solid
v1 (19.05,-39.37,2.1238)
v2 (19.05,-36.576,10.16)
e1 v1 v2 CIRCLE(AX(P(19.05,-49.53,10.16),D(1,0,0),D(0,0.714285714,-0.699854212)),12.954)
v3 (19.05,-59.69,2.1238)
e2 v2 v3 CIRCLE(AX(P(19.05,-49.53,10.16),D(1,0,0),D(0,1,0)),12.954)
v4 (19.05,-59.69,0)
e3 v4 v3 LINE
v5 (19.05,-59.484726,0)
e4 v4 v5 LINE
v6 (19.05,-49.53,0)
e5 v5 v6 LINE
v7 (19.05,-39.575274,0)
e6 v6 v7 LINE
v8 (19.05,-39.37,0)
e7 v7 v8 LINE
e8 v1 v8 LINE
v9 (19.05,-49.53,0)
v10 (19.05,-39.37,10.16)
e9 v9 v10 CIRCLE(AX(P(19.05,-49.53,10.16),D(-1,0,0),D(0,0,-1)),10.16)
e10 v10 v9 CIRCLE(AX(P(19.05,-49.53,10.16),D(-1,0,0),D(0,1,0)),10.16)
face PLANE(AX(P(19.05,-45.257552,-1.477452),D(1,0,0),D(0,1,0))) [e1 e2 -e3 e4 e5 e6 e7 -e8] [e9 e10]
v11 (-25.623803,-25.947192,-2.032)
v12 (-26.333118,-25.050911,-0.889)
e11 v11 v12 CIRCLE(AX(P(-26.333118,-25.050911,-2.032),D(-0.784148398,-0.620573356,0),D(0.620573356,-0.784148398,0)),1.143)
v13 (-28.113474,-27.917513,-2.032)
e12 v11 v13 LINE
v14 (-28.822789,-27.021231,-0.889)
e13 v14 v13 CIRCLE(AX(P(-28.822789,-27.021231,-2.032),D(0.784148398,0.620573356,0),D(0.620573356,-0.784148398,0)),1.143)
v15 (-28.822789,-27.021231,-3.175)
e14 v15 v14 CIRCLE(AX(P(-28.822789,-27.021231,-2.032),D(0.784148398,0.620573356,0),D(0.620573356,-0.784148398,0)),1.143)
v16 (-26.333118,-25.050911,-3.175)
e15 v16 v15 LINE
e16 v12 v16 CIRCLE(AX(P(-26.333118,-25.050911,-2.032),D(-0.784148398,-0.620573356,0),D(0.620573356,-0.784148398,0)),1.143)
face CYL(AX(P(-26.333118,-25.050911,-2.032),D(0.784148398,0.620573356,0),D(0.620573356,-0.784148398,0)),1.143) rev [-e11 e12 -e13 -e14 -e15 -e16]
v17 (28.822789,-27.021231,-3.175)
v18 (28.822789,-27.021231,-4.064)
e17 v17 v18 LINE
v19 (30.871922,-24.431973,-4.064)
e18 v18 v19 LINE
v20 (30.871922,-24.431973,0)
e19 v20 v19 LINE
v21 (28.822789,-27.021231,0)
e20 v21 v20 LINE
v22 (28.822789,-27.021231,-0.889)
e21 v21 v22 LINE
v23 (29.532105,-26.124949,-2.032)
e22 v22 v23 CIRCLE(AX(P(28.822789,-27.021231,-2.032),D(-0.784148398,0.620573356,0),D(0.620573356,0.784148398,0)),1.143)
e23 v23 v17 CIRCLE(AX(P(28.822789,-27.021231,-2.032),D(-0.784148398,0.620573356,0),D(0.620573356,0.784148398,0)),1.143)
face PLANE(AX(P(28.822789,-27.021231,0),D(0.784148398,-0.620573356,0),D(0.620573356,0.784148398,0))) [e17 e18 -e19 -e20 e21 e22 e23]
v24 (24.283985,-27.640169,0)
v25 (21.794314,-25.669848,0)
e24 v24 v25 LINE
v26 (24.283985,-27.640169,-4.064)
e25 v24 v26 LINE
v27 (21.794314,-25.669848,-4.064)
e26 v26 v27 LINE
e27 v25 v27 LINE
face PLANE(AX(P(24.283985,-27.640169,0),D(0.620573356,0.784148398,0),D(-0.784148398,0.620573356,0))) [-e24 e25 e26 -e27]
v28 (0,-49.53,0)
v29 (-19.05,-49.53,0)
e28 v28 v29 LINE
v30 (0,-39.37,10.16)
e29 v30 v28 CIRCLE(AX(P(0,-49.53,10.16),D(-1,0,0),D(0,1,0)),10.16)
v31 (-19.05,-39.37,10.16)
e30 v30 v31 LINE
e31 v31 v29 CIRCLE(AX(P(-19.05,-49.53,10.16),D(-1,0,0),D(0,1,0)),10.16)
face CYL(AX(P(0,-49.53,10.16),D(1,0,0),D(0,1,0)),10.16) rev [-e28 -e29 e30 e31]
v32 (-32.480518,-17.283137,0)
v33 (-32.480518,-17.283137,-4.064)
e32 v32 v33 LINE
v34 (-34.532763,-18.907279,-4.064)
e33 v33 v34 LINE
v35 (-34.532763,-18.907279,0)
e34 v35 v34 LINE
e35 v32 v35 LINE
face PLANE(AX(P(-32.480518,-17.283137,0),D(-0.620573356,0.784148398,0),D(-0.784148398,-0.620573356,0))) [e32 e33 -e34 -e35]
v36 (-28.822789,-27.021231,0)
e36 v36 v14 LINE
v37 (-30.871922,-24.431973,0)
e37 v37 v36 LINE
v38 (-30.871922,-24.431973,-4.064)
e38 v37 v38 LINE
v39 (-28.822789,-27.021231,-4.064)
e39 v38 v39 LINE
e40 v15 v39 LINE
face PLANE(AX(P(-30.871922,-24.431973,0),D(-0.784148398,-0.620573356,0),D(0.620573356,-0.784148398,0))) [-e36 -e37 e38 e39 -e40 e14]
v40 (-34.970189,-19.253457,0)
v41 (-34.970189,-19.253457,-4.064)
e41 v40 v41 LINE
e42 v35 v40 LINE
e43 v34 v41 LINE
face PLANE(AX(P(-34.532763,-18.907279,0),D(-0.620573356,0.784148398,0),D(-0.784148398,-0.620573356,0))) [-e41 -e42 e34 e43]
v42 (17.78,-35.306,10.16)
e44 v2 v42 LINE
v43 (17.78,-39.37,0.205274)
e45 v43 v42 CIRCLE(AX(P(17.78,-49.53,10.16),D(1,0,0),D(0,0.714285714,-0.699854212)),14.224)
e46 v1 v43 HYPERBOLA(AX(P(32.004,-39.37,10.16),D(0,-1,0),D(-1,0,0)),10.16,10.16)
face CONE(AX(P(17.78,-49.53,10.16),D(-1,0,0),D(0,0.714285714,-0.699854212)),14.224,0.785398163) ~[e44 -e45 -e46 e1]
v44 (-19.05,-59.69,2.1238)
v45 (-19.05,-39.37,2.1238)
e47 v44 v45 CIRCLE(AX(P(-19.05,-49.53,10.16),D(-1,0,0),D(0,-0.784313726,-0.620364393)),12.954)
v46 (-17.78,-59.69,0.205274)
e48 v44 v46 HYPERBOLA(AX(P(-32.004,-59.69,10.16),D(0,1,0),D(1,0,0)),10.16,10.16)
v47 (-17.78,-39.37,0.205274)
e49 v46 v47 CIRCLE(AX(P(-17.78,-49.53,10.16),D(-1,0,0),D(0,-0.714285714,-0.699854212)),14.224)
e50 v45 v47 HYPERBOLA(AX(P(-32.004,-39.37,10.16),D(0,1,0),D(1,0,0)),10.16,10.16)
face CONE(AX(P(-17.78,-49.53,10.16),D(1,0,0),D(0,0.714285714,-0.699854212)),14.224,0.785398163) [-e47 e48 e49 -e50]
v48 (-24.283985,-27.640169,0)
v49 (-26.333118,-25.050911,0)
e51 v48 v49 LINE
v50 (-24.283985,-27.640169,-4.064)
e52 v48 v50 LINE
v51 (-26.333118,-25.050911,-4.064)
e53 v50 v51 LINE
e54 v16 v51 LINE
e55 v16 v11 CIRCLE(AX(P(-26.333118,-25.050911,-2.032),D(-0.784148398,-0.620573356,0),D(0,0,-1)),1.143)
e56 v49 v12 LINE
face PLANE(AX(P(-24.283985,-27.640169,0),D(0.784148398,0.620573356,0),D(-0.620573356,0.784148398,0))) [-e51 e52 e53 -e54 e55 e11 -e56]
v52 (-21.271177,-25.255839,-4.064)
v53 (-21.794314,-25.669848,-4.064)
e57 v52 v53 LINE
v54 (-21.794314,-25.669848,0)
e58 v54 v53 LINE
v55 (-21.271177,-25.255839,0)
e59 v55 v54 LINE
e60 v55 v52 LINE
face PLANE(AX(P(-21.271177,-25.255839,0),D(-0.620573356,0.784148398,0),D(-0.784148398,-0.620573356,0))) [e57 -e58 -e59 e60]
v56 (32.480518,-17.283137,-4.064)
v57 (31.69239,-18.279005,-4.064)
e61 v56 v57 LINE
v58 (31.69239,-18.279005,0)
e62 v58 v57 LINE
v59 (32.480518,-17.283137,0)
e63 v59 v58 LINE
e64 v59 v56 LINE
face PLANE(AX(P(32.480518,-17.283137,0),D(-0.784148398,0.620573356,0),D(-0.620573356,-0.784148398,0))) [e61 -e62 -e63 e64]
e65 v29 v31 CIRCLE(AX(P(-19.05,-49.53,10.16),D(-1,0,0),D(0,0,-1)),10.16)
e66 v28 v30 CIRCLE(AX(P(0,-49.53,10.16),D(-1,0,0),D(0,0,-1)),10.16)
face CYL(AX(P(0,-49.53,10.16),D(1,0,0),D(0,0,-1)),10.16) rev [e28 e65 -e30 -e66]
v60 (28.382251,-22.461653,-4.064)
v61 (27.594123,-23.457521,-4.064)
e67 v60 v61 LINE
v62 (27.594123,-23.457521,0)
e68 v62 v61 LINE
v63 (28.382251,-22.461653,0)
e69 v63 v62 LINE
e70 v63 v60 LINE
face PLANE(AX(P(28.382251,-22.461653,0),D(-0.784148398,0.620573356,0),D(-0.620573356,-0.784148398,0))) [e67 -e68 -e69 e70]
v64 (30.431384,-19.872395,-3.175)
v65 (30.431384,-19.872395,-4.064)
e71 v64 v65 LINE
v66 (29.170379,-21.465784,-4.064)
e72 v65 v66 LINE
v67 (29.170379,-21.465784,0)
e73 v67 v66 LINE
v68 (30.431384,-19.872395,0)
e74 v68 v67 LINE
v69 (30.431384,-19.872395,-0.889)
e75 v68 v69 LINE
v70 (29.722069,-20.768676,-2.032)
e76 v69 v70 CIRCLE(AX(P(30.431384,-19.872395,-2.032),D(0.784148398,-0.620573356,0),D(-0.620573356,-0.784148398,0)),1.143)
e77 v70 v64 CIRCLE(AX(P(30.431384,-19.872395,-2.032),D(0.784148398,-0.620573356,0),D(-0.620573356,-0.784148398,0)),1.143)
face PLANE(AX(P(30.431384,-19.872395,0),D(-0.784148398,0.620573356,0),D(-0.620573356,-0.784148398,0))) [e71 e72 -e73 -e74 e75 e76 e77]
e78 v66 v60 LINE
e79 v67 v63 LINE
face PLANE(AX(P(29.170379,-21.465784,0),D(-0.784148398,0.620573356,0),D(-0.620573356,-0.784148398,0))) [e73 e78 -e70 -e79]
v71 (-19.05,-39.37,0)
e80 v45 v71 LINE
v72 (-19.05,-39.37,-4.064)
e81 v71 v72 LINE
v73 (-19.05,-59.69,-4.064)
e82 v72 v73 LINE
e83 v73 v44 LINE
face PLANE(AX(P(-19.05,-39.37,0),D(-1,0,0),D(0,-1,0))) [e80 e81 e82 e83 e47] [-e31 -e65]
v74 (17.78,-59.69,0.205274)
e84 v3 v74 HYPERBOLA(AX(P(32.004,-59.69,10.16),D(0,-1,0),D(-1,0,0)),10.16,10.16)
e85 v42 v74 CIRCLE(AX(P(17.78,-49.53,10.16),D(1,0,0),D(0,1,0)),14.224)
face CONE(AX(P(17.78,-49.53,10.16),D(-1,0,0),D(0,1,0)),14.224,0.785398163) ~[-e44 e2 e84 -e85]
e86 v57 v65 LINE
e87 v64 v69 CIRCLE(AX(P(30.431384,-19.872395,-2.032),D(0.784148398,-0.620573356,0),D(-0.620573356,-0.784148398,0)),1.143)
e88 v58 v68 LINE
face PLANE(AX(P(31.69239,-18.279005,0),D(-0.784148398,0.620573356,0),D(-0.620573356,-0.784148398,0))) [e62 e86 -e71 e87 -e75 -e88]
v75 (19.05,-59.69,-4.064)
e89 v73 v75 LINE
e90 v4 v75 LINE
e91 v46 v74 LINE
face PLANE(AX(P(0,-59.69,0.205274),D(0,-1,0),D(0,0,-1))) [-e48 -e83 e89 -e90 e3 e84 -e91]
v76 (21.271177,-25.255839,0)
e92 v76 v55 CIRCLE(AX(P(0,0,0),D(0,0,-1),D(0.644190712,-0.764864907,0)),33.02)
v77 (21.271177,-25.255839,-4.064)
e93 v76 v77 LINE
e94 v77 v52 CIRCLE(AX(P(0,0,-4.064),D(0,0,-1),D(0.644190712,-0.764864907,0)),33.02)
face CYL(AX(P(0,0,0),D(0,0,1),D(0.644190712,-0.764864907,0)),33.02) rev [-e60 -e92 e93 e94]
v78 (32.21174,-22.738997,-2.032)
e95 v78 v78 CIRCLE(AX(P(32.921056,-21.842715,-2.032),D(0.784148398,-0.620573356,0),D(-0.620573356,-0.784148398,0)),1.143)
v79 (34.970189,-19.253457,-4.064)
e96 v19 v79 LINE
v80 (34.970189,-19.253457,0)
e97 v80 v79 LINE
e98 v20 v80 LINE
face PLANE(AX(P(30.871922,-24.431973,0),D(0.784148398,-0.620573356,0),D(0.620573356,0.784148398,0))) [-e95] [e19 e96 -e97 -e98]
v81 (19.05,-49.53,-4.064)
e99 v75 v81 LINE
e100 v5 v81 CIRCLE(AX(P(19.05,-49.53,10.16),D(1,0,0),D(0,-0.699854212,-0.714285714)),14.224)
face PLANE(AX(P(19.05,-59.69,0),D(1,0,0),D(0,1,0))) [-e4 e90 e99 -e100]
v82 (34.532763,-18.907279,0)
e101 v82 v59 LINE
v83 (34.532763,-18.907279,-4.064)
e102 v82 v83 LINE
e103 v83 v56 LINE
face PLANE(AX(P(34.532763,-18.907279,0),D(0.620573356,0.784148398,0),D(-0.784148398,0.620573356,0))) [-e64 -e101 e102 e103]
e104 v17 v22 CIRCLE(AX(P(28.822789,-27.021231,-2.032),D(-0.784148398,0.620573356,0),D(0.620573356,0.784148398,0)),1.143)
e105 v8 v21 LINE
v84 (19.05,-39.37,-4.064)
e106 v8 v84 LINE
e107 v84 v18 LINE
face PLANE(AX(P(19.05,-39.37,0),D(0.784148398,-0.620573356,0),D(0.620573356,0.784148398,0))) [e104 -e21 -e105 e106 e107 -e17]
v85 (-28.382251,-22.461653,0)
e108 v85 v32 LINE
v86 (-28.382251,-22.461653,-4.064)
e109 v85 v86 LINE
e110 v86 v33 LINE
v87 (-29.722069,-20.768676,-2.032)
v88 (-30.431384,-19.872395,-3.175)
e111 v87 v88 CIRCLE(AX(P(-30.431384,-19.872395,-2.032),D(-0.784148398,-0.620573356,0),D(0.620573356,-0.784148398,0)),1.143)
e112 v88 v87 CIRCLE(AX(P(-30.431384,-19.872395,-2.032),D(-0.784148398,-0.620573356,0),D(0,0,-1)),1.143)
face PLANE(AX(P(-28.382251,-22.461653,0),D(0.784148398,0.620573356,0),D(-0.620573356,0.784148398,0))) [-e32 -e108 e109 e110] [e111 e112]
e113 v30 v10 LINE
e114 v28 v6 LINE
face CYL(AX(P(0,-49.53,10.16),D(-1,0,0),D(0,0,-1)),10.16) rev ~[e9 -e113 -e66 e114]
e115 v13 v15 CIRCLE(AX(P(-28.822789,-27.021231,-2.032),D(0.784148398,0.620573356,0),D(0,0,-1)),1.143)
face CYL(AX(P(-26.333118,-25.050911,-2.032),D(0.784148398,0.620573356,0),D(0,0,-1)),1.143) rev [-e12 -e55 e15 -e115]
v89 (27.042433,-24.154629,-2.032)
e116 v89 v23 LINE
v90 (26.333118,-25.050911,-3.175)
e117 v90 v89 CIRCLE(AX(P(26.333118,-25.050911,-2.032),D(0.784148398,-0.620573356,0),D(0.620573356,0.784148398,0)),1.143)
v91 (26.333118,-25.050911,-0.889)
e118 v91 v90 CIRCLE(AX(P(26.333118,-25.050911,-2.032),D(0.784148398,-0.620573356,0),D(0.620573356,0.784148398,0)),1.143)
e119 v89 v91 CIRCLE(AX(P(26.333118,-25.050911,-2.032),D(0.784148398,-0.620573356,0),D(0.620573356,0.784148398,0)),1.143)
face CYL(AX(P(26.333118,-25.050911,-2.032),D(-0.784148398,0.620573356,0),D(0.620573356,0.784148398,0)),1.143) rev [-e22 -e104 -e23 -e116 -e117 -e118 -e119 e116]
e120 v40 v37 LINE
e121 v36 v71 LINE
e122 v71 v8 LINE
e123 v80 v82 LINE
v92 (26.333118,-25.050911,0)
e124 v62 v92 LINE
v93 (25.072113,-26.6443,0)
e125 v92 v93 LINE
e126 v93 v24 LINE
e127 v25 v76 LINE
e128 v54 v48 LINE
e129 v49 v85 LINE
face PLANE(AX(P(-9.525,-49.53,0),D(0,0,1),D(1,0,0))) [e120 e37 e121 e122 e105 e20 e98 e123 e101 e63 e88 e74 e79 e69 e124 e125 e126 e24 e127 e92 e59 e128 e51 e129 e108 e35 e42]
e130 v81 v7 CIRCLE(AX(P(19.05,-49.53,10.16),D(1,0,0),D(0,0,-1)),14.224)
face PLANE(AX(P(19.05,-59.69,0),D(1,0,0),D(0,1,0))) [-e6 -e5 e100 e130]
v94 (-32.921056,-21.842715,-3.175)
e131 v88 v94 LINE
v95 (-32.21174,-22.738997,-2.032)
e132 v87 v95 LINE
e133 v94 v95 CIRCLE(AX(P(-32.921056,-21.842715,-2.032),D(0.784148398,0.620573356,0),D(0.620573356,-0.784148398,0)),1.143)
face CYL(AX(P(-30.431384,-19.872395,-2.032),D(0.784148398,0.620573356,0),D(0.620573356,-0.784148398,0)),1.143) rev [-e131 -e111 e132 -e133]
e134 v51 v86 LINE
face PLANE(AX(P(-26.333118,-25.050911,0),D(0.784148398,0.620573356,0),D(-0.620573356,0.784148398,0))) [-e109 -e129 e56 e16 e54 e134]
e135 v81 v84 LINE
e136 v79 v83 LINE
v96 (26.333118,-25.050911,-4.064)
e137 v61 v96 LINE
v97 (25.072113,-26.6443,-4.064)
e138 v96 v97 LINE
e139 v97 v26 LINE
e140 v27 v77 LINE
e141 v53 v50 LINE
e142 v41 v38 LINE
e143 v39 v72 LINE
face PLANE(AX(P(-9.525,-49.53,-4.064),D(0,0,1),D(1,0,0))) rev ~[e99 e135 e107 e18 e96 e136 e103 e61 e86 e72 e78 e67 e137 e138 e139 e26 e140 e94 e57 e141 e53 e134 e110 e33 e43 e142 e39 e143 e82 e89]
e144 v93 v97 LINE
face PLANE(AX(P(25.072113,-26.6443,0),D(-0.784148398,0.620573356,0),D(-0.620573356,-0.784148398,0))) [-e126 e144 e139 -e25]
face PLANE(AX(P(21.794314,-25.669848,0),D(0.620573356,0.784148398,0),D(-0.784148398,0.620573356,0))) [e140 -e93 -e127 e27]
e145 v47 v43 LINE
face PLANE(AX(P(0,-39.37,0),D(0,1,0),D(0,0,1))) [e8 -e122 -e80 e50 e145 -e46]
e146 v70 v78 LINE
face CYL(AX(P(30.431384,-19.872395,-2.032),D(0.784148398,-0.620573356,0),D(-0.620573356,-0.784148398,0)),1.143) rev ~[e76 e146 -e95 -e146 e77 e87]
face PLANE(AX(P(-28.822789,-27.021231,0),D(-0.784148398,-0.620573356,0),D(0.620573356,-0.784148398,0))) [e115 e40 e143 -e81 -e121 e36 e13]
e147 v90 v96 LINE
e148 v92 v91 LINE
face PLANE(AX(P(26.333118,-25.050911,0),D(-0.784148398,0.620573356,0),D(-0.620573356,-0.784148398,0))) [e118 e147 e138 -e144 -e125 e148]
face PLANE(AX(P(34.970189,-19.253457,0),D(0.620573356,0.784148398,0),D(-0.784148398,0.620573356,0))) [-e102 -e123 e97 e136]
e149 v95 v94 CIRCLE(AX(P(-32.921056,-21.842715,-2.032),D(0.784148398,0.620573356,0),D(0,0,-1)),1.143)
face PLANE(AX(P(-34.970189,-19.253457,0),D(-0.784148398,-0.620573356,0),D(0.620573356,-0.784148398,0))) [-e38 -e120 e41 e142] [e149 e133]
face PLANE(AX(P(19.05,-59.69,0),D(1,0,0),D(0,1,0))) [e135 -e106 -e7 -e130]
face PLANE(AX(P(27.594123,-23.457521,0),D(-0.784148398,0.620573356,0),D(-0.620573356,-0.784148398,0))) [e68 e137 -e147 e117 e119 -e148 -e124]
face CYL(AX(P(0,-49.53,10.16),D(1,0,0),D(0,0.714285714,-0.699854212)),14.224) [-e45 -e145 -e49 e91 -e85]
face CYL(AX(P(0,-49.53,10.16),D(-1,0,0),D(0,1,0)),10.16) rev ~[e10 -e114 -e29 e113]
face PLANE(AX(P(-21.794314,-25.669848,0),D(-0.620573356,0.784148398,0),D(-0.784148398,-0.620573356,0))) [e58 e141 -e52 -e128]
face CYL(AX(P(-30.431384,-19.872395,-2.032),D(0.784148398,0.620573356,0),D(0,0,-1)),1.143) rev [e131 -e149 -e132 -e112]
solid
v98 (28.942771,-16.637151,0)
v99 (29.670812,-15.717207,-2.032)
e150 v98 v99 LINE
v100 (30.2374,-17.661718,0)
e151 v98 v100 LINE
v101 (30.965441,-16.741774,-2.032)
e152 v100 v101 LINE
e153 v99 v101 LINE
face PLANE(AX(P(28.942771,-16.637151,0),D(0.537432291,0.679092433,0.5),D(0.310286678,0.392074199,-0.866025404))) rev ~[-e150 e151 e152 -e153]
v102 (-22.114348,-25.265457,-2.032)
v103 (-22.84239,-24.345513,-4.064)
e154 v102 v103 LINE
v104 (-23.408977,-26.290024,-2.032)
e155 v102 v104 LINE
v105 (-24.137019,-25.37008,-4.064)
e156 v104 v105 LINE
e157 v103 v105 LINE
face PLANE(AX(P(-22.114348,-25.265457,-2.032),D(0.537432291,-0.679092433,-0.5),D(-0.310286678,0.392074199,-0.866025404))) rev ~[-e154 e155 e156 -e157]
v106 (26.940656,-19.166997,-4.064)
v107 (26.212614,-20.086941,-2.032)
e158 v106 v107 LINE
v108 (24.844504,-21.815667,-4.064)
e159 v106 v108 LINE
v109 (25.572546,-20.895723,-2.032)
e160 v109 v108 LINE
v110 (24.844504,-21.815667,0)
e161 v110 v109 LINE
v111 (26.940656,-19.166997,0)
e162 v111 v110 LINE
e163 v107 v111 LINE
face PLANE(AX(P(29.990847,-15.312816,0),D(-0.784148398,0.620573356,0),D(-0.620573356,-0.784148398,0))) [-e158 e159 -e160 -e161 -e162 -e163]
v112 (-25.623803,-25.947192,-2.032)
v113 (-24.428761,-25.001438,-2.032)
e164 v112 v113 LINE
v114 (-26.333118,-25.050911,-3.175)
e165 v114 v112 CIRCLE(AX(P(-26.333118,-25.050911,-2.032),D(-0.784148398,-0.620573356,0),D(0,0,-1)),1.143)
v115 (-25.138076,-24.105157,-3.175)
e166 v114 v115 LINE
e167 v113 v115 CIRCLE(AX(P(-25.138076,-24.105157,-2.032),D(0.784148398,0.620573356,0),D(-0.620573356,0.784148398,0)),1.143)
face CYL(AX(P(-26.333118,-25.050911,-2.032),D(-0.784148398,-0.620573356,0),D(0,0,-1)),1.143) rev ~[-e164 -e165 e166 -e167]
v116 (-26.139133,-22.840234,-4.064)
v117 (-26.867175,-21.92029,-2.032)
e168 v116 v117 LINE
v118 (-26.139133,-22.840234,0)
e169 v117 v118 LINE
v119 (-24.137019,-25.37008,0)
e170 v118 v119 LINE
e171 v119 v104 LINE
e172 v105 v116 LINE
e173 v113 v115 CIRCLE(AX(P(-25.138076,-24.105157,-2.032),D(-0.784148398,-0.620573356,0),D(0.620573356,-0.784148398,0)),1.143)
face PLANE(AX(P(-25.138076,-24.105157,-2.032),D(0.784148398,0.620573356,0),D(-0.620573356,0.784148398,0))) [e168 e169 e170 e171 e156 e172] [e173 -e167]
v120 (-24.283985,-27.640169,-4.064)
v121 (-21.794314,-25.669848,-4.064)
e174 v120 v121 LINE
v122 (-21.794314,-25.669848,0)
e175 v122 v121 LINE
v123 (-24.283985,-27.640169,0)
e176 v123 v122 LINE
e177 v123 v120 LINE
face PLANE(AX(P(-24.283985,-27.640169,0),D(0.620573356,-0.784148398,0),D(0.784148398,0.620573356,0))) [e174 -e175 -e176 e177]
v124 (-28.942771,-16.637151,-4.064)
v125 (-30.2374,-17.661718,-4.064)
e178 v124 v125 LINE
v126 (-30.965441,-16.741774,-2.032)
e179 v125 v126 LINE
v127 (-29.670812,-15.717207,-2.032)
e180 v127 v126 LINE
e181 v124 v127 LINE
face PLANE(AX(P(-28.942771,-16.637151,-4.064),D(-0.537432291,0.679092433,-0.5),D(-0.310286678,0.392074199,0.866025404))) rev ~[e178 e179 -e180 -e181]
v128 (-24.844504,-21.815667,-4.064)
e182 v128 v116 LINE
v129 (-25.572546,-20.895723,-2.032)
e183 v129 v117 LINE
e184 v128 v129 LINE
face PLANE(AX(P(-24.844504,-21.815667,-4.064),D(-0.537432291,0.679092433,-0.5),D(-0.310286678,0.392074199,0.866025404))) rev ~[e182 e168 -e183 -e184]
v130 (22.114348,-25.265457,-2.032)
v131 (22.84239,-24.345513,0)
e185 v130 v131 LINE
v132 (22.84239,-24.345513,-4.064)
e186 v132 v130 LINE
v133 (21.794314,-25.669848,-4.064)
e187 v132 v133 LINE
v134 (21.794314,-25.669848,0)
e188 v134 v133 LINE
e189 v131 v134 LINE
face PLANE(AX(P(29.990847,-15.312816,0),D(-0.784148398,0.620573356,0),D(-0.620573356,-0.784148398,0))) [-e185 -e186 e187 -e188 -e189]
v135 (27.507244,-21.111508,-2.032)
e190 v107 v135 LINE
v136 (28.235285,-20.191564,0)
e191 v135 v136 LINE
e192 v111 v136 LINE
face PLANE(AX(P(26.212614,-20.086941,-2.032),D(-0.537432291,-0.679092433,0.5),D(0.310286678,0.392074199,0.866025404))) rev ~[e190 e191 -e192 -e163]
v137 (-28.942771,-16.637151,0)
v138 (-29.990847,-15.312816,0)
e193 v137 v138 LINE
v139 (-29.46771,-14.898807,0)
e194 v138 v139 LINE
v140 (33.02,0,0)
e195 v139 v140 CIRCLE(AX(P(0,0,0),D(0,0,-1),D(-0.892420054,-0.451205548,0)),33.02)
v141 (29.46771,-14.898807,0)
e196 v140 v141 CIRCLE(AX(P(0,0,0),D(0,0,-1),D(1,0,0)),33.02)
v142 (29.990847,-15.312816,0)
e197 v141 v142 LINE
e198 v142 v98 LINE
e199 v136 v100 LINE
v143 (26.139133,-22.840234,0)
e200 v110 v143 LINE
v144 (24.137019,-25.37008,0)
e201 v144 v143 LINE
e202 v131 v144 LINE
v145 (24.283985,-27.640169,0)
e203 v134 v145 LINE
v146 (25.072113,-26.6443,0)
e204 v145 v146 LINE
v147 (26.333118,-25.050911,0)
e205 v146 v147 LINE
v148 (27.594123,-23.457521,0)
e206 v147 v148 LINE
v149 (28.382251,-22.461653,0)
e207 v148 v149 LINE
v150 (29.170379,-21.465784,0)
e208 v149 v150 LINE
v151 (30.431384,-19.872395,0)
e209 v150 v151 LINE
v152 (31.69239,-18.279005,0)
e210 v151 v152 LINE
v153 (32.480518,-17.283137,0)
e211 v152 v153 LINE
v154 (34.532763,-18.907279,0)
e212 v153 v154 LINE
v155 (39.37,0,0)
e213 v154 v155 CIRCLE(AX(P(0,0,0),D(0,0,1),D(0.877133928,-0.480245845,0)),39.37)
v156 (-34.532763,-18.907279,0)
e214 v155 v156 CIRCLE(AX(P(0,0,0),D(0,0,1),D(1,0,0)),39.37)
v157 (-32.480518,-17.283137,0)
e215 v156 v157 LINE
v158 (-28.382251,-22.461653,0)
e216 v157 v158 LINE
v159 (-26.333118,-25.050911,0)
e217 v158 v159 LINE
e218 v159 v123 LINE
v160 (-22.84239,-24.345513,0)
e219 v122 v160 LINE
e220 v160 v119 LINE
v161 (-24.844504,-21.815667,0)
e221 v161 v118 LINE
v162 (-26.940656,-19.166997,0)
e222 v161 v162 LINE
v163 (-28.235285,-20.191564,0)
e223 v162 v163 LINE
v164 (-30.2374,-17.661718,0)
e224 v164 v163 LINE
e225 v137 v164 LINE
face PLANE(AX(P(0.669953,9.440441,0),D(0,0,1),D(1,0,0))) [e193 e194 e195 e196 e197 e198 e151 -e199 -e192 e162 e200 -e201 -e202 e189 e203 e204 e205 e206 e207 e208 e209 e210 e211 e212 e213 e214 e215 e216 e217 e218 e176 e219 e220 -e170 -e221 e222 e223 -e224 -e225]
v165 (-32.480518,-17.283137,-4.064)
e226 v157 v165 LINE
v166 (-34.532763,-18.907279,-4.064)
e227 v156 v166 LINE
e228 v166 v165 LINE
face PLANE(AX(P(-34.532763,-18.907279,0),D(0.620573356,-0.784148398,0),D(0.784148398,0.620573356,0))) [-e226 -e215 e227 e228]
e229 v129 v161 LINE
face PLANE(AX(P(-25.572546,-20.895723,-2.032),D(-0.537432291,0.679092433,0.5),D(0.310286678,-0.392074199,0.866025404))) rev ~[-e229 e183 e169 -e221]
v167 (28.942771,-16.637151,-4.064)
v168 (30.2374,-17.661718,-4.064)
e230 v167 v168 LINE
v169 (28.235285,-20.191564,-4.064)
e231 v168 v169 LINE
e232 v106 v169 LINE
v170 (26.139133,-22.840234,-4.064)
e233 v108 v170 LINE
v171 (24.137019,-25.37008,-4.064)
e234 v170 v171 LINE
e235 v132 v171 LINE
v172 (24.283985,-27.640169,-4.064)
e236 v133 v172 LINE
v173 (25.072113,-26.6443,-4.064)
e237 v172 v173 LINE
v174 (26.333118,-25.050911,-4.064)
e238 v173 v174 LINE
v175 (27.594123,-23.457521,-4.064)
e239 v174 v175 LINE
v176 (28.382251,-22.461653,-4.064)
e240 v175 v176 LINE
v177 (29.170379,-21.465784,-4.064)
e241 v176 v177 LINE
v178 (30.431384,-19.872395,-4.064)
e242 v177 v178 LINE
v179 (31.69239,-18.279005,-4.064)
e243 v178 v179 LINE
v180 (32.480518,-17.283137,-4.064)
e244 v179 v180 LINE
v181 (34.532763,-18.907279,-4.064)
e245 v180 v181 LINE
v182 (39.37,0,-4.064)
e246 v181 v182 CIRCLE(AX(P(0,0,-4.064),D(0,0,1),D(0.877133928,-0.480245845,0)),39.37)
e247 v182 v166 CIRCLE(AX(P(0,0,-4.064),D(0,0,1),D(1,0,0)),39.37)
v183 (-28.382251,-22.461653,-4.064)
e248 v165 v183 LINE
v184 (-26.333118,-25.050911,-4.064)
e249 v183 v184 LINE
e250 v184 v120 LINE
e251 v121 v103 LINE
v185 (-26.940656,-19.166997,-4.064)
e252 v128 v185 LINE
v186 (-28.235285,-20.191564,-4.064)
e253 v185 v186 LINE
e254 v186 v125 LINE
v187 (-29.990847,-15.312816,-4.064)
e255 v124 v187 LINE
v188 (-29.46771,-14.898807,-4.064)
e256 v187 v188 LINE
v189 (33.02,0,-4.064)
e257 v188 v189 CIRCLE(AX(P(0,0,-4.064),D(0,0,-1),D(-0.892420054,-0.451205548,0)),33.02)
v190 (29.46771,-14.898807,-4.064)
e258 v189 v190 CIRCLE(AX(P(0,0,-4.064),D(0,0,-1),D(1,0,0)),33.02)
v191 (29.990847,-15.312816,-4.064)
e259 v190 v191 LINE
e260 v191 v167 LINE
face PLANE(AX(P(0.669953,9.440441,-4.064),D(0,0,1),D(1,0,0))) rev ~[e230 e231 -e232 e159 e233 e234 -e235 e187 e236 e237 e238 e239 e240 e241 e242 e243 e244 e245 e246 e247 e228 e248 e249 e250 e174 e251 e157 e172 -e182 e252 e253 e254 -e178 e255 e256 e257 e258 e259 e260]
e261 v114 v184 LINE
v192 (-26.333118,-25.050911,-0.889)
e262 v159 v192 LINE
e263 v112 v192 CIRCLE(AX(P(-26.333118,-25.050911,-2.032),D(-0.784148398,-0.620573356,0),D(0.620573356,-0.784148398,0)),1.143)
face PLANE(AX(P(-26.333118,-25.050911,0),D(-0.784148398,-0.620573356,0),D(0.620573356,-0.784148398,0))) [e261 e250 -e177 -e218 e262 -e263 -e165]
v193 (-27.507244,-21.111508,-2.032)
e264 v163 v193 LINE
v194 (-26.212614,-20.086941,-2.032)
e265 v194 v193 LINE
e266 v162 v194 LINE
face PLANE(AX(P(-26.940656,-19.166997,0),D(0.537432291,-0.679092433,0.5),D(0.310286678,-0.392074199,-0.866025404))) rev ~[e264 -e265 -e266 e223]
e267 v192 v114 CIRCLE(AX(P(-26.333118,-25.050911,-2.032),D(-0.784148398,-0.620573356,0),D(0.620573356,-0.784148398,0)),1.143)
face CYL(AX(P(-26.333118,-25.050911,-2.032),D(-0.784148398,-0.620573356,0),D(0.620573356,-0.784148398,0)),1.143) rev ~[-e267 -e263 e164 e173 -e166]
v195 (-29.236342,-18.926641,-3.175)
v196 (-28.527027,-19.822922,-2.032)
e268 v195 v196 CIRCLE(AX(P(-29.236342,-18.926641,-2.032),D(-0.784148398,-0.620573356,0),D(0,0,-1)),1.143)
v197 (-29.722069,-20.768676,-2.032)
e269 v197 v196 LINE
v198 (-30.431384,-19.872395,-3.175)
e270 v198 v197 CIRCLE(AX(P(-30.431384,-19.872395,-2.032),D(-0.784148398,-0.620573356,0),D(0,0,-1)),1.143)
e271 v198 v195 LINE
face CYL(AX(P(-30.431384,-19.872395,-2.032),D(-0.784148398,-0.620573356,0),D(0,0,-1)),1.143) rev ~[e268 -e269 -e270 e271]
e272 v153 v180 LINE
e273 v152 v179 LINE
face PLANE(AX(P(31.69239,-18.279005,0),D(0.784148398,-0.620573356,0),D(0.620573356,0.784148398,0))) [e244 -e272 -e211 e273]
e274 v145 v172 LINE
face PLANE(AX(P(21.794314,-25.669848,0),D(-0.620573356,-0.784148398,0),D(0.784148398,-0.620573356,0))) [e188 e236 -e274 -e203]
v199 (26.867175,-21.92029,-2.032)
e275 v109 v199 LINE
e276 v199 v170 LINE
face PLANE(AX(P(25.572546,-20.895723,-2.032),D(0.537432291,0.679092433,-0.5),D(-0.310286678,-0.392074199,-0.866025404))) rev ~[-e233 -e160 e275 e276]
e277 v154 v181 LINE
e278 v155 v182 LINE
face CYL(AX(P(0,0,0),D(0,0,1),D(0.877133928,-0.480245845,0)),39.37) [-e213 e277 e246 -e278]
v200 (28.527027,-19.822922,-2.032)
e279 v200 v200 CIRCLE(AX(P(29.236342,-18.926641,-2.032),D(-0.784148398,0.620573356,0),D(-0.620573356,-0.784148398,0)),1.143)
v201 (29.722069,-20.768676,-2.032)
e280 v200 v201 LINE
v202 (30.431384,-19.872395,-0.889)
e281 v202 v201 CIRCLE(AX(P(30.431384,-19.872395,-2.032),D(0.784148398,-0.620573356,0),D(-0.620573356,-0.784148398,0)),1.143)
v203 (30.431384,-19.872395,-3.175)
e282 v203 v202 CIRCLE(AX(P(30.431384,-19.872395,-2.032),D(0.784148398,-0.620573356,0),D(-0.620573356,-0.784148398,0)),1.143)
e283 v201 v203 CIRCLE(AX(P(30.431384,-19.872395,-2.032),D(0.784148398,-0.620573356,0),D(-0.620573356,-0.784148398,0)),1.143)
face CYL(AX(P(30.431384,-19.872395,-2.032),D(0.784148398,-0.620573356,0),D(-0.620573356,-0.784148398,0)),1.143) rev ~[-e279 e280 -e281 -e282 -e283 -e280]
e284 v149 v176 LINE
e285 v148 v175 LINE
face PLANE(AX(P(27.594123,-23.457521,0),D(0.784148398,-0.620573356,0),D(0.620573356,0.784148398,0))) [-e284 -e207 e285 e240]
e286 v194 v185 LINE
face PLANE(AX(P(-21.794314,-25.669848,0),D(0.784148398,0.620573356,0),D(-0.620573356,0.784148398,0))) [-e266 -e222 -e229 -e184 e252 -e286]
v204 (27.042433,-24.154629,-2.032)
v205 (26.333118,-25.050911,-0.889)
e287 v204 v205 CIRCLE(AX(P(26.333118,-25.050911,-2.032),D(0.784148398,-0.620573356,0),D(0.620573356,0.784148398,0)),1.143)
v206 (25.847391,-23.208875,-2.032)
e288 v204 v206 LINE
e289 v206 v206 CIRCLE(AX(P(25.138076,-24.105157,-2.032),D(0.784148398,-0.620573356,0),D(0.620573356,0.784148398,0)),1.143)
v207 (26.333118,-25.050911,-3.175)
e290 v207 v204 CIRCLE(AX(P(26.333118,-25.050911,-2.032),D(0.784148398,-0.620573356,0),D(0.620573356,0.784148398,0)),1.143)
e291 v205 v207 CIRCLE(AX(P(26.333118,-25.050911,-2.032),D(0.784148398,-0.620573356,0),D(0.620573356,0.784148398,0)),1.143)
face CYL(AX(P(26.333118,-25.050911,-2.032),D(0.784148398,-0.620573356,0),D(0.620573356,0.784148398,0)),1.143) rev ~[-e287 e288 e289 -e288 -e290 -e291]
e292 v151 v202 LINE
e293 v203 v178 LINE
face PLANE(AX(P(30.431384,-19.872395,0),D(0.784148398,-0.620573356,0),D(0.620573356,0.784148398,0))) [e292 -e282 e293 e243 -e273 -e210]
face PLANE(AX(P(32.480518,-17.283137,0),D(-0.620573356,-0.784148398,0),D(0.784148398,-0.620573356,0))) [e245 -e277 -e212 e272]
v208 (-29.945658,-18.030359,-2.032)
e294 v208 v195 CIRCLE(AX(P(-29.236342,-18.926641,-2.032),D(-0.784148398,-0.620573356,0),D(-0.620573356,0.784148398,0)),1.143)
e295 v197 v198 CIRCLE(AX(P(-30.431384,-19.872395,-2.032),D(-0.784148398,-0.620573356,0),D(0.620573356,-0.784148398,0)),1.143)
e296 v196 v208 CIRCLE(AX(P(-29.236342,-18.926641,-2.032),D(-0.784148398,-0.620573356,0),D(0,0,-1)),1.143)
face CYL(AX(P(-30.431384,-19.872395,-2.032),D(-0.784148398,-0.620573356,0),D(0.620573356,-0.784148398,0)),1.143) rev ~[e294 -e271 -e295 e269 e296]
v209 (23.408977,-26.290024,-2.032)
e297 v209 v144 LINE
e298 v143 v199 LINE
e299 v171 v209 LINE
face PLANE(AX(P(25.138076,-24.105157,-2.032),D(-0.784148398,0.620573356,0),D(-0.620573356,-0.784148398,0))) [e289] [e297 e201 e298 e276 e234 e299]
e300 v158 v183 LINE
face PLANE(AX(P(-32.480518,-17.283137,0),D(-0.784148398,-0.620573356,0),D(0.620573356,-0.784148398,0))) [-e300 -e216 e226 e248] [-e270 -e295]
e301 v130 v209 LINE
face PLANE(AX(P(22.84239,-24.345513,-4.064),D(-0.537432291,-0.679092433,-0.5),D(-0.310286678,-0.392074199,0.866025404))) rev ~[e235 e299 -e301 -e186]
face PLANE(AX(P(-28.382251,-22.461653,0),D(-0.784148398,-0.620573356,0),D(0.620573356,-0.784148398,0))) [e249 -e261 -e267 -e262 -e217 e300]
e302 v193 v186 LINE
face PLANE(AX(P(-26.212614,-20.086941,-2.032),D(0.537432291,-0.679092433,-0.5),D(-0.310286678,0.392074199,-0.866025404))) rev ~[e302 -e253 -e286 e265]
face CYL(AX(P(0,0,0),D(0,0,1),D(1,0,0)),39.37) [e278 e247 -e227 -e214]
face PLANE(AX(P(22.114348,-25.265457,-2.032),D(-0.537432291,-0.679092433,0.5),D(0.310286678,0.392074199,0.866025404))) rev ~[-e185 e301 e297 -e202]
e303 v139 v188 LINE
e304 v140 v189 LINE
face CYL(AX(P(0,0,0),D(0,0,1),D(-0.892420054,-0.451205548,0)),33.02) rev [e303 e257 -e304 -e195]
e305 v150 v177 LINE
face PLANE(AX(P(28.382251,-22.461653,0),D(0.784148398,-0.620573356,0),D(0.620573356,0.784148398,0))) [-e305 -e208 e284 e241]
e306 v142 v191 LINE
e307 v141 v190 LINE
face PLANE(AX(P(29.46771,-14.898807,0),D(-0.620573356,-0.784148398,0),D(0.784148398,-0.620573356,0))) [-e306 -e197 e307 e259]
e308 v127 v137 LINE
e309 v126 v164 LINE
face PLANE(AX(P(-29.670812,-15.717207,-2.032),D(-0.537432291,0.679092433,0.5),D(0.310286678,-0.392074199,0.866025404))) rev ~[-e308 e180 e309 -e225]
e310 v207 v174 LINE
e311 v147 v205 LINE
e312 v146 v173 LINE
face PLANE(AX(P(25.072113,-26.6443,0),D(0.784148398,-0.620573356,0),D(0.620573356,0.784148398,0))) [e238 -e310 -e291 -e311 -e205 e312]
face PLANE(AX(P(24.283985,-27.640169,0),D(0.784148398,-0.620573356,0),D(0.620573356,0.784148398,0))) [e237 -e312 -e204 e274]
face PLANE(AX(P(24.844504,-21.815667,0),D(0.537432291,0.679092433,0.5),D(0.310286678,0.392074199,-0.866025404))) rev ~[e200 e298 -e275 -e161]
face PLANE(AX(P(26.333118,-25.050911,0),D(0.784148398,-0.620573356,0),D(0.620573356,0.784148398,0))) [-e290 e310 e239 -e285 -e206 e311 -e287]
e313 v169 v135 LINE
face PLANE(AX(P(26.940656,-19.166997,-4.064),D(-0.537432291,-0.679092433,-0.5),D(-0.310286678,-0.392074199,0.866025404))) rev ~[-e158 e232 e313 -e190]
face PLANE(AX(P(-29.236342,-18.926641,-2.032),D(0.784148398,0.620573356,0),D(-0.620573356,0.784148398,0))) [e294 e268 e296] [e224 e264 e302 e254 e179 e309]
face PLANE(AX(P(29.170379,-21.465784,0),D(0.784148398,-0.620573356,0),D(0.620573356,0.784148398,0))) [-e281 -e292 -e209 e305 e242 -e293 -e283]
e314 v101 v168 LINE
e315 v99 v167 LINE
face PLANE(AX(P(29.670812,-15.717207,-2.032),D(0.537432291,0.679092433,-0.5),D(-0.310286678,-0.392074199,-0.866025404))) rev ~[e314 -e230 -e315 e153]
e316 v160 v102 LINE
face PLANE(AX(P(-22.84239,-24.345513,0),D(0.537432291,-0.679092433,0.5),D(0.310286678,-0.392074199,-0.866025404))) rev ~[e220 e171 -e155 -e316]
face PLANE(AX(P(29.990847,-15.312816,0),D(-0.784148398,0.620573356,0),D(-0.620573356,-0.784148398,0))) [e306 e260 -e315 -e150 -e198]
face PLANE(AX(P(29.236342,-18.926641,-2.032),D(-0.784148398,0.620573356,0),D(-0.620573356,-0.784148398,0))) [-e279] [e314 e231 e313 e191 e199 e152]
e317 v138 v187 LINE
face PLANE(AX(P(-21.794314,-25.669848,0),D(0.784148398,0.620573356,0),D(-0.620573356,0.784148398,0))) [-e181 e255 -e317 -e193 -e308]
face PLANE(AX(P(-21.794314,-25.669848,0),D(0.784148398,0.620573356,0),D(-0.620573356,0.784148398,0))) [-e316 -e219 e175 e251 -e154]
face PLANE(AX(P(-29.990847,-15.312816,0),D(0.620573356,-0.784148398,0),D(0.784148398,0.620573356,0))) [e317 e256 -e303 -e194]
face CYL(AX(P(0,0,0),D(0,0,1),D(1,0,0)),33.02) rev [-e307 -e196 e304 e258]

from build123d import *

# Parameters (mm, degrees)
F1_DEPTH  = 4.064
F2_DEPTH  = 4.064
F4_DEPTH  = 12.7
F5_R      = 1.143
F6_DEPTH  = 12.7
F7_R      = 1.143
F8_DEPTH  = 1.651
F9_R      = 1.143
F10_DEPTH = 1.651
F12_DEPTH = 19.05
F13_SIZE  = 1.27


with BuildPart() as f1:
    # F0 (on Top) → F1 (new body)
    with BuildSketch(Plane.XY):
        with BuildLine():
            ThreePointArc((-29.4677101906, -14.8988072046), (-7.6582181186, 32.1196527884), (33.02, 0))
            ThreePointArc((33.02, 0), (32.1196527884, -7.6582181186), (29.4677101906, -14.8988072046))
            Line((29.4677101906, -14.8988072046), (29.990846543, -15.3128161889))
            Line((29.990846543, -15.3128161889), (25.8925801012, -20.4913322091))
            Line((25.8925801012, -20.4913322091), (28.3822512648, -22.4616526138))
            Line((28.3822512648, -22.4616526138), (29.1703794266, -21.4657841484))
            Line((29.1703794266, -21.4657841484), (30.4313844857, -19.8723946037))
            Line((30.4313844857, -19.8723946037), (31.6923895447, -18.279005059))
            Line((31.6923895447, -18.279005059), (32.4805177066, -17.2831365936))
            Line((32.4805177066, -17.2831365936), (34.5327627618, -18.9072789168))
            ThreePointArc((34.5327627618, -18.9072789168), (38.1415244185, -9.7581255902), (39.37, 0))
            ThreePointArc((39.37, 0), (-9.7581255902, 38.1415244185), (-34.5327627618, -18.9072789168))
            Line((-34.5327627618, -18.9072789168), (-32.4805177066, -17.2831365936))
            Line((-32.4805177066, -17.2831365936), (-30.4313844857, -19.8723946037))
            Line((-30.4313844857, -19.8723946037), (-28.3822512648, -22.4616526138))
            Line((-28.3822512648, -22.4616526138), (-25.8925801012, -20.4913322091))
            Line((-25.8925801012, -20.4913322091), (-29.990846543, -15.3128161889))
            Line((-29.990846543, -15.3128161889), (-29.4677101906, -14.8988072046))
        make_face()
        Polygon((-21.7943136594, -25.6698482293), (-25.8925801012, -20.4913322091), (-28.3822512648, -22.4616526138), (-26.3331180438, -25.0509106239), (-24.2839848229, -27.6401686341), align=None)
        Polygon((28.3822512648, -22.4616526138), (25.8925801012, -20.4913322091), (21.7943136594, -25.6698482293), (24.2839848229, -27.6401686341), (25.0721129848, -26.6443001686), (26.3331180438, -25.0509106239), (27.5941231029, -23.4575210793), align=None)
    extrude(amount=-F1_DEPTH)


with BuildPart() as f2:
    # F0 (on Top) → F2 (new body)
    with BuildSketch(Plane.XY):
        Polygon((0, -59.69), (0, -39.37), (-10.9520430108, -39.37), (-15.0010215054, -39.37), (-19.05, -39.37), (-19.05, -59.69), align=None)
        Polygon((10.9520430108, -39.37), (0, -39.37), (0, -59.69), (19.05, -59.69), (19.05, -39.37), (15.0010215054, -39.37), align=None)
        with BuildLine():
            ThreePointArc((-18.7699951594, -34.6075740513), (-24.0499346053, -31.1704595006), (-28.714015795, -26.935147984))
            Line((-28.714015795, -26.935147984), (-28.8227892074, -27.0212310287))
            Line((-28.8227892074, -27.0212310287), (-19.05, -39.37))
            Line((-19.05, -39.37), (-15.0010215054, -39.37))
            Line((-15.0010215054, -39.37), (-18.7699951594, -34.6075740513))
        make_face()
        with BuildLine():
            Line((-10.9520430108, -39.37), (-12.5874453828, -37.3035268941))
            ThreePointArc((-12.5874453828, -37.3035268941), (-15.7365596549, -36.0881918393), (-18.7699951594, -34.6075740513))
            Line((-18.7699951594, -34.6075740513), (-15.0010215054, -39.37))
            Line((-15.0010215054, -39.37), (-10.9520430108, -39.37))
        make_face()
        with BuildLine():
            ThreePointArc((0, -39.37), (-6.3779717066, -38.8499469357), (-12.5874453828, -37.3035268941))
            Line((-12.5874453828, -37.3035268941), (-10.9520430108, -39.37))
            Line((-10.9520430108, -39.37), (0, -39.37))
        make_face()
        with BuildLine():
            ThreePointArc((21.271177307, -25.2558392451), (0, -33.02), (-21.271177307, -25.2558392451))
            Line((-21.271177307, -25.2558392451), (-21.7943136594, -25.6698482293))
            Line((-21.7943136594, -25.6698482293), (-12.5874453828, -37.3035268941))
            ThreePointArc((-12.5874453828, -37.3035268941), (-6.3779717066, -38.8499469357), (0, -39.37))
            ThreePointArc((0, -39.37), (6.3779717066, -38.8499469357), (12.5874453828, -37.3035268941))
            Line((12.5874453828, -37.3035268941), (21.7943136594, -25.6698482293))
            Line((21.7943136594, -25.6698482293), (21.271177307, -25.2558392451))
        make_face()
        with BuildLine():
            Line((24.2839848229, -27.6401686341), (21.7943136594, -25.6698482293))
            Line((21.7943136594, -25.6698482293), (12.5874453828, -37.3035268941))
            ThreePointArc((12.5874453828, -37.3035268941), (15.7365596549, -36.0881918393), (18.7699951594, -34.6075740513))
            Line((18.7699951594, -34.6075740513), (24.2839848229, -27.6401686341))
        make_face()
        with BuildLine():
            Line((10.9520430108, -39.37), (12.5874453828, -37.3035268941))
            ThreePointArc((12.5874453828, -37.3035268941), (6.3779717066, -38.8499469357), (0, -39.37))
            Line((0, -39.37), (10.9520430108, -39.37))
        make_face()
        with BuildLine():
            ThreePointArc((18.7699951594, -34.6075740513), (15.7365596549, -36.0881918393), (12.5874453828, -37.3035268941))
            Line((12.5874453828, -37.3035268941), (10.9520430108, -39.37))
            Line((10.9520430108, -39.37), (15.0010215054, -39.37))
            Line((15.0010215054, -39.37), (18.7699951594, -34.6075740513))
        make_face()
        with BuildLine():
            Line((28.8227892074, -27.0212310287), (28.714015795, -26.935147984))
            ThreePointArc((28.714015795, -26.935147984), (24.0499346053, -31.1704595006), (18.7699951594, -34.6075740513))
            Line((18.7699951594, -34.6075740513), (15.0010215054, -39.37))
            Line((15.0010215054, -39.37), (19.05, -39.37))
            Line((19.05, -39.37), (28.8227892074, -27.0212310287))
        make_face()
        with BuildLine():
            Line((25.0721129848, -26.6443001686), (24.2839848229, -27.6401686341))
            Line((24.2839848229, -27.6401686341), (18.7699951594, -34.6075740513))
            ThreePointArc((18.7699951594, -34.6075740513), (24.0499346053, -31.1704595006), (28.714015795, -26.935147984))
            Line((28.714015795, -26.935147984), (26.3331180438, -25.0509106239))
            Line((26.3331180438, -25.0509106239), (25.0721129848, -26.6443001686))
        make_face()
        with BuildLine():
            Line((28.8227892074, -27.0212310287), (30.8719224283, -24.4319730185))
            ThreePointArc((30.8719224283, -24.4319730185), (29.8192468, -25.7062136512), (28.714015795, -26.935147984))
            Line((28.714015795, -26.935147984), (28.8227892074, -27.0212310287))
        make_face()
        with BuildLine():
            Line((30.8719224283, -24.4319730185), (28.3822512648, -22.4616526138))
            Line((28.3822512648, -22.4616526138), (27.5941231029, -23.4575210793))
            Line((27.5941231029, -23.4575210793), (26.3331180438, -25.0509106239))
            Line((26.3331180438, -25.0509106239), (28.714015795, -26.935147984))
            ThreePointArc((28.714015795, -26.935147984), (29.8192468, -25.7062136512), (30.8719224283, -24.4319730185))
        make_face()
        with BuildLine():
            Line((29.1703794266, -21.4657841484), (28.3822512648, -22.4616526138))
            Line((28.3822512648, -22.4616526138), (30.8719224283, -24.4319730185))
            ThreePointArc((30.8719224283, -24.4319730185), (31.8701873763, -23.1146718904), (32.8122822369, -21.7566319638))
            Line((32.8122822369, -21.7566319638), (30.4313844857, -19.8723946037))
            Line((30.4313844857, -19.8723946037), (29.1703794266, -21.4657841484))
        make_face()
        with BuildLine():
            Line((30.4313844857, -19.8723946037), (32.8122822369, -21.7566319638))
            ThreePointArc((32.8122822369, -21.7566319638), (33.702647888, -20.3501455851), (34.5327627618, -18.9072789168))
            Line((34.5327627618, -18.9072789168), (32.4805177066, -17.2831365936))
            Line((32.4805177066, -17.2831365936), (31.6923895447, -18.279005059))
            Line((31.6923895447, -18.279005059), (30.4313844857, -19.8723946037))
        make_face()
        with BuildLine():
            Line((-12.5874453828, -37.3035268941), (-21.7943136594, -25.6698482293))
            Line((-21.7943136594, -25.6698482293), (-24.2839848229, -27.6401686341))
            Line((-24.2839848229, -27.6401686341), (-18.7699951594, -34.6075740513))
            ThreePointArc((-18.7699951594, -34.6075740513), (-15.7365596549, -36.0881918393), (-12.5874453828, -37.3035268941))
        make_face()
        with BuildLine():
            ThreePointArc((-28.714015795, -26.935147984), (-29.8192468, -25.7062136512), (-30.8719224283, -24.4319730185))
            Line((-30.8719224283, -24.4319730185), (-28.8227892074, -27.0212310287))
            Line((-28.8227892074, -27.0212310287), (-28.714015795, -26.935147984))
        make_face()
        with BuildLine():
            Line((-24.2839848229, -27.6401686341), (-26.3331180438, -25.0509106239))
            Line((-26.3331180438, -25.0509106239), (-28.714015795, -26.935147984))
            ThreePointArc((-28.714015795, -26.935147984), (-24.0499346053, -31.1704595006), (-18.7699951594, -34.6075740513))
            Line((-18.7699951594, -34.6075740513), (-24.2839848229, -27.6401686341))
        make_face()
        with BuildLine():
            Line((-26.3331180438, -25.0509106239), (-28.3822512648, -22.4616526138))
            Line((-28.3822512648, -22.4616526138), (-30.8719224283, -24.4319730185))
            ThreePointArc((-30.8719224283, -24.4319730185), (-29.8192468, -25.7062136512), (-28.714015795, -26.935147984))
            Line((-28.714015795, -26.935147984), (-26.3331180438, -25.0509106239))
        make_face()
        with BuildLine():
            Line((-30.8719224283, -24.4319730185), (-28.3822512648, -22.4616526138))
            Line((-28.3822512648, -22.4616526138), (-30.4313844857, -19.8723946037))
            Line((-30.4313844857, -19.8723946037), (-32.8122822369, -21.7566319638))
            ThreePointArc((-32.8122822369, -21.7566319638), (-31.8701873763, -23.1146718904), (-30.8719224283, -24.4319730185))
        make_face()
        with BuildLine():
            Line((-32.8122822369, -21.7566319638), (-30.4313844857, -19.8723946037))
            Line((-30.4313844857, -19.8723946037), (-32.4805177066, -17.2831365936))
            Line((-32.4805177066, -17.2831365936), (-34.5327627618, -18.9072789168))
            ThreePointArc((-34.5327627618, -18.9072789168), (-33.702647888, -20.3501455851), (-32.8122822369, -21.7566319638))
        make_face()
        with BuildLine():
            ThreePointArc((32.8122822369, -21.7566319638), (31.8701873763, -23.1146718904), (30.8719224283, -24.4319730185))
            Line((30.8719224283, -24.4319730185), (34.9701888702, -19.2534569983))
            Line((34.9701888702, -19.2534569983), (34.5327627618, -18.9072789168))
            ThreePointArc((34.5327627618, -18.9072789168), (33.702647888, -20.3501455851), (32.8122822369, -21.7566319638))
        make_face()
        with BuildLine():
            Line((-34.9701888702, -19.2534569983), (-30.8719224283, -24.4319730185))
            ThreePointArc((-30.8719224283, -24.4319730185), (-31.8701873763, -23.1146718904), (-32.8122822369, -21.7566319638))
            ThreePointArc((-32.8122822369, -21.7566319638), (-33.702647888, -20.3501455851), (-34.5327627618, -18.9072789168))
            Line((-34.5327627618, -18.9072789168), (-34.9701888702, -19.2534569983))
        make_face()
    extrude(amount=-F2_DEPTH)


with BuildPart() as f4_tool:
    # F3 (on face) → F4 (new body, symmetric)
    with BuildSketch(Plane(origin=(-28.3822512648, -22.4616526138, 0), x_dir=(0.6205733558, -0.784148398, 0), z_dir=(-0.784148398, -0.6205733558, 0))):
        with BuildLine():
            ThreePointArc((-2.159, -2.032), (-4.1102230509, -1.2237769491), (-3.302, -3.175))
            ThreePointArc((-3.302, -3.175), (-2.4937769491, -2.8402230509), (-2.159, -2.032))
        make_face()
        with BuildLine():
            ThreePointArc((4.445, -2.032), (2.4937769491, -1.2237769491), (3.302, -3.175))
            ThreePointArc((3.302, -3.175), (4.1102230509, -2.8402230509), (4.445, -2.032))
        make_face()
    extrude(amount=F4_DEPTH, both=True)


with BuildPart() as f1_1:
    add(f1.part)

    # F4: cut by f4_tool
    add(f4_tool.part, mode=Mode.SUBTRACT)


with BuildPart() as f2_1:
    add(f2.part)

    # F4: cut by f4_tool
    add(f4_tool.part, mode=Mode.SUBTRACT)


with BuildPart() as f6_tool:
    # F5 (on face) → F6 (new body, symmetric)
    with BuildSketch(Plane(origin=(28.3822512648, -22.4616526138, 0), x_dir=(0.6205733558, 0.784148398, 0), z_dir=(0.784148398, -0.6205733558, 0))):
        with Locations((-3.302, -2.032)):
            Circle(F5_R)
        with BuildLine():
            ThreePointArc((4.445, -2.032), (3.302, -0.889), (2.159, -2.032))
            ThreePointArc((2.159, -2.032), (3.302, -3.175), (4.445, -2.032))
        make_face()
    extrude(amount=F6_DEPTH, both=True)


with BuildPart() as f1_2:
    add(f1_1.part)

    # F6: cut by f6_tool
    add(f6_tool.part, mode=Mode.SUBTRACT)

    # F7 (on face) → F8 (cut)
    with BuildSketch(Plane(origin=(-25.8925801012, -20.4913322091, 0), x_dir=(-0.6205733558, 0.784148398, 0), z_dir=(0.784148398, 0.6205733558, 0))):
        Polygon((1.6888833479, -4.064), (3.302, -4.064), (4.9151166521, -4.064), (6.0882923991, -2.032), (4.9151166521, 0), (1.6888833479, 0), (0.5157076009, -2.032), align=None)
        with BuildLine():
            ThreePointArc((3.302, -3.175), (2.4937769491, -1.2237769491), (4.445, -2.032))
            ThreePointArc((4.445, -2.032), (4.1102230509, -2.8402230509), (3.302, -3.175))
        make_face(mode=Mode.SUBTRACT)
        Polygon((-4.9151166521, -4.064), (-1.6888833479, -4.064), (-0.5157076009, -2.032), (-1.6888833479, 0), (-4.9151166521, 0), (-6.0882923991, -2.032), align=None)
        with Locations((-3.302, -2.032)):
            Circle(F7_R, mode=Mode.SUBTRACT)
    extrude(amount=-F8_DEPTH, mode=Mode.SUBTRACT)

    # F9 (on face) → F10 (cut)
    with BuildSketch(Plane(origin=(25.8925801012, -20.4913322091, 0), x_dir=(-0.6205733558, -0.784148398, 0), z_dir=(-0.784148398, 0.6205733558, 0))):
        Polygon((-1.6888833479, 0), (-4.9151166521, 0), (-6.0882923991, -2.032), (-4.9151166521, -4.064), (-1.6888833479, -4.064), (-0.5157076009, -2.032), align=None)
        with Locations((-3.302, -2.032)):
            Circle(F9_R, mode=Mode.SUBTRACT)
        Polygon((4.9151166521, 0), (1.6888833479, 0), (0.5157076009, -2.032), (1.6888833479, -4.064), (4.9151166521, -4.064), (6.0882923991, -2.032), align=None)
        with Locations((3.302, -2.032)):
            Circle(F9_R, mode=Mode.SUBTRACT)
    extrude(amount=-F10_DEPTH, mode=Mode.SUBTRACT)


with BuildPart() as f2_2:
    add(f2_1.part)

    # F6: cut by f6_tool
    add(f6_tool.part, mode=Mode.SUBTRACT)

    # F11 (on Right) → F12 (join, symmetric)
    with BuildSketch(Plane.YZ):
        with BuildLine():
            ThreePointArc((-49.53, -4.064), (-44.1538333359, -3.0088650992), (-39.5752736853, 0))
            Line((-39.5752736853, 0), (-49.53, 0))
            Line((-49.53, 0), (-49.53, -4.064))
        make_face()
        with BuildLine():
            Line((-49.53, -4.064), (-49.53, 0))
            Line((-49.53, 0), (-59.4847263147, 0))
            ThreePointArc((-59.4847263147, 0), (-54.9061666641, -3.0088650992), (-49.53, -4.064))
        make_face()
        with BuildLine():
            Line((-49.53, 0), (-39.5752736853, 0))
            ThreePointArc((-39.5752736853, 0), (-39.4721131444, 0.1021131444), (-39.37, 0.2052736853))
            ThreePointArc((-39.37, 0.2052736853), (-36.3611349008, 4.7838333359), (-35.306, 10.16))
            ThreePointArc((-35.306, 10.16), (-54.9061666641, 23.3288650992), (-59.69, 0.2052736853))
            ThreePointArc((-59.69, 0.2052736853), (-59.5878868556, 0.1021131444), (-59.4847263147, 0))
            Line((-59.4847263147, 0), (-49.53, 0))
        make_face()
        with BuildLine():
            ThreePointArc((-39.37, 10.16), (-42.3457951031, 2.9757951031), (-49.53, 0))
            ThreePointArc((-49.53, 0), (-56.7142048969, 17.3442048969), (-39.37, 10.16))
        make_face(mode=Mode.SUBTRACT)
        with BuildLine():
            Line((-39.5752736853, 0), (-39.37, 0))
            Line((-39.37, 0), (-39.37, 0.2052736853))
            ThreePointArc((-39.37, 0.2052736853), (-39.4721131444, 0.1021131444), (-39.5752736853, 0))
        make_face()
        with BuildLine():
            Line((-59.69, 0), (-59.4847263147, 0))
            ThreePointArc((-59.4847263147, 0), (-59.5878868556, 0.1021131444), (-59.69, 0.2052736853))
            Line((-59.69, 0.2052736853), (-59.69, 0))
        make_face()
    extrude(amount=F12_DEPTH, both=True)

    # F13
    f13_edges = [f2_2.edges().sort_by_distance(p)[0] for p in [
        (-19.05, -49.53, 24.384),
        (19.05, -49.53, 24.384),
    ]]
    chamfer(f13_edges, length=F13_SIZE)


solid = Compound([f1_2.part, f2_2.part])
